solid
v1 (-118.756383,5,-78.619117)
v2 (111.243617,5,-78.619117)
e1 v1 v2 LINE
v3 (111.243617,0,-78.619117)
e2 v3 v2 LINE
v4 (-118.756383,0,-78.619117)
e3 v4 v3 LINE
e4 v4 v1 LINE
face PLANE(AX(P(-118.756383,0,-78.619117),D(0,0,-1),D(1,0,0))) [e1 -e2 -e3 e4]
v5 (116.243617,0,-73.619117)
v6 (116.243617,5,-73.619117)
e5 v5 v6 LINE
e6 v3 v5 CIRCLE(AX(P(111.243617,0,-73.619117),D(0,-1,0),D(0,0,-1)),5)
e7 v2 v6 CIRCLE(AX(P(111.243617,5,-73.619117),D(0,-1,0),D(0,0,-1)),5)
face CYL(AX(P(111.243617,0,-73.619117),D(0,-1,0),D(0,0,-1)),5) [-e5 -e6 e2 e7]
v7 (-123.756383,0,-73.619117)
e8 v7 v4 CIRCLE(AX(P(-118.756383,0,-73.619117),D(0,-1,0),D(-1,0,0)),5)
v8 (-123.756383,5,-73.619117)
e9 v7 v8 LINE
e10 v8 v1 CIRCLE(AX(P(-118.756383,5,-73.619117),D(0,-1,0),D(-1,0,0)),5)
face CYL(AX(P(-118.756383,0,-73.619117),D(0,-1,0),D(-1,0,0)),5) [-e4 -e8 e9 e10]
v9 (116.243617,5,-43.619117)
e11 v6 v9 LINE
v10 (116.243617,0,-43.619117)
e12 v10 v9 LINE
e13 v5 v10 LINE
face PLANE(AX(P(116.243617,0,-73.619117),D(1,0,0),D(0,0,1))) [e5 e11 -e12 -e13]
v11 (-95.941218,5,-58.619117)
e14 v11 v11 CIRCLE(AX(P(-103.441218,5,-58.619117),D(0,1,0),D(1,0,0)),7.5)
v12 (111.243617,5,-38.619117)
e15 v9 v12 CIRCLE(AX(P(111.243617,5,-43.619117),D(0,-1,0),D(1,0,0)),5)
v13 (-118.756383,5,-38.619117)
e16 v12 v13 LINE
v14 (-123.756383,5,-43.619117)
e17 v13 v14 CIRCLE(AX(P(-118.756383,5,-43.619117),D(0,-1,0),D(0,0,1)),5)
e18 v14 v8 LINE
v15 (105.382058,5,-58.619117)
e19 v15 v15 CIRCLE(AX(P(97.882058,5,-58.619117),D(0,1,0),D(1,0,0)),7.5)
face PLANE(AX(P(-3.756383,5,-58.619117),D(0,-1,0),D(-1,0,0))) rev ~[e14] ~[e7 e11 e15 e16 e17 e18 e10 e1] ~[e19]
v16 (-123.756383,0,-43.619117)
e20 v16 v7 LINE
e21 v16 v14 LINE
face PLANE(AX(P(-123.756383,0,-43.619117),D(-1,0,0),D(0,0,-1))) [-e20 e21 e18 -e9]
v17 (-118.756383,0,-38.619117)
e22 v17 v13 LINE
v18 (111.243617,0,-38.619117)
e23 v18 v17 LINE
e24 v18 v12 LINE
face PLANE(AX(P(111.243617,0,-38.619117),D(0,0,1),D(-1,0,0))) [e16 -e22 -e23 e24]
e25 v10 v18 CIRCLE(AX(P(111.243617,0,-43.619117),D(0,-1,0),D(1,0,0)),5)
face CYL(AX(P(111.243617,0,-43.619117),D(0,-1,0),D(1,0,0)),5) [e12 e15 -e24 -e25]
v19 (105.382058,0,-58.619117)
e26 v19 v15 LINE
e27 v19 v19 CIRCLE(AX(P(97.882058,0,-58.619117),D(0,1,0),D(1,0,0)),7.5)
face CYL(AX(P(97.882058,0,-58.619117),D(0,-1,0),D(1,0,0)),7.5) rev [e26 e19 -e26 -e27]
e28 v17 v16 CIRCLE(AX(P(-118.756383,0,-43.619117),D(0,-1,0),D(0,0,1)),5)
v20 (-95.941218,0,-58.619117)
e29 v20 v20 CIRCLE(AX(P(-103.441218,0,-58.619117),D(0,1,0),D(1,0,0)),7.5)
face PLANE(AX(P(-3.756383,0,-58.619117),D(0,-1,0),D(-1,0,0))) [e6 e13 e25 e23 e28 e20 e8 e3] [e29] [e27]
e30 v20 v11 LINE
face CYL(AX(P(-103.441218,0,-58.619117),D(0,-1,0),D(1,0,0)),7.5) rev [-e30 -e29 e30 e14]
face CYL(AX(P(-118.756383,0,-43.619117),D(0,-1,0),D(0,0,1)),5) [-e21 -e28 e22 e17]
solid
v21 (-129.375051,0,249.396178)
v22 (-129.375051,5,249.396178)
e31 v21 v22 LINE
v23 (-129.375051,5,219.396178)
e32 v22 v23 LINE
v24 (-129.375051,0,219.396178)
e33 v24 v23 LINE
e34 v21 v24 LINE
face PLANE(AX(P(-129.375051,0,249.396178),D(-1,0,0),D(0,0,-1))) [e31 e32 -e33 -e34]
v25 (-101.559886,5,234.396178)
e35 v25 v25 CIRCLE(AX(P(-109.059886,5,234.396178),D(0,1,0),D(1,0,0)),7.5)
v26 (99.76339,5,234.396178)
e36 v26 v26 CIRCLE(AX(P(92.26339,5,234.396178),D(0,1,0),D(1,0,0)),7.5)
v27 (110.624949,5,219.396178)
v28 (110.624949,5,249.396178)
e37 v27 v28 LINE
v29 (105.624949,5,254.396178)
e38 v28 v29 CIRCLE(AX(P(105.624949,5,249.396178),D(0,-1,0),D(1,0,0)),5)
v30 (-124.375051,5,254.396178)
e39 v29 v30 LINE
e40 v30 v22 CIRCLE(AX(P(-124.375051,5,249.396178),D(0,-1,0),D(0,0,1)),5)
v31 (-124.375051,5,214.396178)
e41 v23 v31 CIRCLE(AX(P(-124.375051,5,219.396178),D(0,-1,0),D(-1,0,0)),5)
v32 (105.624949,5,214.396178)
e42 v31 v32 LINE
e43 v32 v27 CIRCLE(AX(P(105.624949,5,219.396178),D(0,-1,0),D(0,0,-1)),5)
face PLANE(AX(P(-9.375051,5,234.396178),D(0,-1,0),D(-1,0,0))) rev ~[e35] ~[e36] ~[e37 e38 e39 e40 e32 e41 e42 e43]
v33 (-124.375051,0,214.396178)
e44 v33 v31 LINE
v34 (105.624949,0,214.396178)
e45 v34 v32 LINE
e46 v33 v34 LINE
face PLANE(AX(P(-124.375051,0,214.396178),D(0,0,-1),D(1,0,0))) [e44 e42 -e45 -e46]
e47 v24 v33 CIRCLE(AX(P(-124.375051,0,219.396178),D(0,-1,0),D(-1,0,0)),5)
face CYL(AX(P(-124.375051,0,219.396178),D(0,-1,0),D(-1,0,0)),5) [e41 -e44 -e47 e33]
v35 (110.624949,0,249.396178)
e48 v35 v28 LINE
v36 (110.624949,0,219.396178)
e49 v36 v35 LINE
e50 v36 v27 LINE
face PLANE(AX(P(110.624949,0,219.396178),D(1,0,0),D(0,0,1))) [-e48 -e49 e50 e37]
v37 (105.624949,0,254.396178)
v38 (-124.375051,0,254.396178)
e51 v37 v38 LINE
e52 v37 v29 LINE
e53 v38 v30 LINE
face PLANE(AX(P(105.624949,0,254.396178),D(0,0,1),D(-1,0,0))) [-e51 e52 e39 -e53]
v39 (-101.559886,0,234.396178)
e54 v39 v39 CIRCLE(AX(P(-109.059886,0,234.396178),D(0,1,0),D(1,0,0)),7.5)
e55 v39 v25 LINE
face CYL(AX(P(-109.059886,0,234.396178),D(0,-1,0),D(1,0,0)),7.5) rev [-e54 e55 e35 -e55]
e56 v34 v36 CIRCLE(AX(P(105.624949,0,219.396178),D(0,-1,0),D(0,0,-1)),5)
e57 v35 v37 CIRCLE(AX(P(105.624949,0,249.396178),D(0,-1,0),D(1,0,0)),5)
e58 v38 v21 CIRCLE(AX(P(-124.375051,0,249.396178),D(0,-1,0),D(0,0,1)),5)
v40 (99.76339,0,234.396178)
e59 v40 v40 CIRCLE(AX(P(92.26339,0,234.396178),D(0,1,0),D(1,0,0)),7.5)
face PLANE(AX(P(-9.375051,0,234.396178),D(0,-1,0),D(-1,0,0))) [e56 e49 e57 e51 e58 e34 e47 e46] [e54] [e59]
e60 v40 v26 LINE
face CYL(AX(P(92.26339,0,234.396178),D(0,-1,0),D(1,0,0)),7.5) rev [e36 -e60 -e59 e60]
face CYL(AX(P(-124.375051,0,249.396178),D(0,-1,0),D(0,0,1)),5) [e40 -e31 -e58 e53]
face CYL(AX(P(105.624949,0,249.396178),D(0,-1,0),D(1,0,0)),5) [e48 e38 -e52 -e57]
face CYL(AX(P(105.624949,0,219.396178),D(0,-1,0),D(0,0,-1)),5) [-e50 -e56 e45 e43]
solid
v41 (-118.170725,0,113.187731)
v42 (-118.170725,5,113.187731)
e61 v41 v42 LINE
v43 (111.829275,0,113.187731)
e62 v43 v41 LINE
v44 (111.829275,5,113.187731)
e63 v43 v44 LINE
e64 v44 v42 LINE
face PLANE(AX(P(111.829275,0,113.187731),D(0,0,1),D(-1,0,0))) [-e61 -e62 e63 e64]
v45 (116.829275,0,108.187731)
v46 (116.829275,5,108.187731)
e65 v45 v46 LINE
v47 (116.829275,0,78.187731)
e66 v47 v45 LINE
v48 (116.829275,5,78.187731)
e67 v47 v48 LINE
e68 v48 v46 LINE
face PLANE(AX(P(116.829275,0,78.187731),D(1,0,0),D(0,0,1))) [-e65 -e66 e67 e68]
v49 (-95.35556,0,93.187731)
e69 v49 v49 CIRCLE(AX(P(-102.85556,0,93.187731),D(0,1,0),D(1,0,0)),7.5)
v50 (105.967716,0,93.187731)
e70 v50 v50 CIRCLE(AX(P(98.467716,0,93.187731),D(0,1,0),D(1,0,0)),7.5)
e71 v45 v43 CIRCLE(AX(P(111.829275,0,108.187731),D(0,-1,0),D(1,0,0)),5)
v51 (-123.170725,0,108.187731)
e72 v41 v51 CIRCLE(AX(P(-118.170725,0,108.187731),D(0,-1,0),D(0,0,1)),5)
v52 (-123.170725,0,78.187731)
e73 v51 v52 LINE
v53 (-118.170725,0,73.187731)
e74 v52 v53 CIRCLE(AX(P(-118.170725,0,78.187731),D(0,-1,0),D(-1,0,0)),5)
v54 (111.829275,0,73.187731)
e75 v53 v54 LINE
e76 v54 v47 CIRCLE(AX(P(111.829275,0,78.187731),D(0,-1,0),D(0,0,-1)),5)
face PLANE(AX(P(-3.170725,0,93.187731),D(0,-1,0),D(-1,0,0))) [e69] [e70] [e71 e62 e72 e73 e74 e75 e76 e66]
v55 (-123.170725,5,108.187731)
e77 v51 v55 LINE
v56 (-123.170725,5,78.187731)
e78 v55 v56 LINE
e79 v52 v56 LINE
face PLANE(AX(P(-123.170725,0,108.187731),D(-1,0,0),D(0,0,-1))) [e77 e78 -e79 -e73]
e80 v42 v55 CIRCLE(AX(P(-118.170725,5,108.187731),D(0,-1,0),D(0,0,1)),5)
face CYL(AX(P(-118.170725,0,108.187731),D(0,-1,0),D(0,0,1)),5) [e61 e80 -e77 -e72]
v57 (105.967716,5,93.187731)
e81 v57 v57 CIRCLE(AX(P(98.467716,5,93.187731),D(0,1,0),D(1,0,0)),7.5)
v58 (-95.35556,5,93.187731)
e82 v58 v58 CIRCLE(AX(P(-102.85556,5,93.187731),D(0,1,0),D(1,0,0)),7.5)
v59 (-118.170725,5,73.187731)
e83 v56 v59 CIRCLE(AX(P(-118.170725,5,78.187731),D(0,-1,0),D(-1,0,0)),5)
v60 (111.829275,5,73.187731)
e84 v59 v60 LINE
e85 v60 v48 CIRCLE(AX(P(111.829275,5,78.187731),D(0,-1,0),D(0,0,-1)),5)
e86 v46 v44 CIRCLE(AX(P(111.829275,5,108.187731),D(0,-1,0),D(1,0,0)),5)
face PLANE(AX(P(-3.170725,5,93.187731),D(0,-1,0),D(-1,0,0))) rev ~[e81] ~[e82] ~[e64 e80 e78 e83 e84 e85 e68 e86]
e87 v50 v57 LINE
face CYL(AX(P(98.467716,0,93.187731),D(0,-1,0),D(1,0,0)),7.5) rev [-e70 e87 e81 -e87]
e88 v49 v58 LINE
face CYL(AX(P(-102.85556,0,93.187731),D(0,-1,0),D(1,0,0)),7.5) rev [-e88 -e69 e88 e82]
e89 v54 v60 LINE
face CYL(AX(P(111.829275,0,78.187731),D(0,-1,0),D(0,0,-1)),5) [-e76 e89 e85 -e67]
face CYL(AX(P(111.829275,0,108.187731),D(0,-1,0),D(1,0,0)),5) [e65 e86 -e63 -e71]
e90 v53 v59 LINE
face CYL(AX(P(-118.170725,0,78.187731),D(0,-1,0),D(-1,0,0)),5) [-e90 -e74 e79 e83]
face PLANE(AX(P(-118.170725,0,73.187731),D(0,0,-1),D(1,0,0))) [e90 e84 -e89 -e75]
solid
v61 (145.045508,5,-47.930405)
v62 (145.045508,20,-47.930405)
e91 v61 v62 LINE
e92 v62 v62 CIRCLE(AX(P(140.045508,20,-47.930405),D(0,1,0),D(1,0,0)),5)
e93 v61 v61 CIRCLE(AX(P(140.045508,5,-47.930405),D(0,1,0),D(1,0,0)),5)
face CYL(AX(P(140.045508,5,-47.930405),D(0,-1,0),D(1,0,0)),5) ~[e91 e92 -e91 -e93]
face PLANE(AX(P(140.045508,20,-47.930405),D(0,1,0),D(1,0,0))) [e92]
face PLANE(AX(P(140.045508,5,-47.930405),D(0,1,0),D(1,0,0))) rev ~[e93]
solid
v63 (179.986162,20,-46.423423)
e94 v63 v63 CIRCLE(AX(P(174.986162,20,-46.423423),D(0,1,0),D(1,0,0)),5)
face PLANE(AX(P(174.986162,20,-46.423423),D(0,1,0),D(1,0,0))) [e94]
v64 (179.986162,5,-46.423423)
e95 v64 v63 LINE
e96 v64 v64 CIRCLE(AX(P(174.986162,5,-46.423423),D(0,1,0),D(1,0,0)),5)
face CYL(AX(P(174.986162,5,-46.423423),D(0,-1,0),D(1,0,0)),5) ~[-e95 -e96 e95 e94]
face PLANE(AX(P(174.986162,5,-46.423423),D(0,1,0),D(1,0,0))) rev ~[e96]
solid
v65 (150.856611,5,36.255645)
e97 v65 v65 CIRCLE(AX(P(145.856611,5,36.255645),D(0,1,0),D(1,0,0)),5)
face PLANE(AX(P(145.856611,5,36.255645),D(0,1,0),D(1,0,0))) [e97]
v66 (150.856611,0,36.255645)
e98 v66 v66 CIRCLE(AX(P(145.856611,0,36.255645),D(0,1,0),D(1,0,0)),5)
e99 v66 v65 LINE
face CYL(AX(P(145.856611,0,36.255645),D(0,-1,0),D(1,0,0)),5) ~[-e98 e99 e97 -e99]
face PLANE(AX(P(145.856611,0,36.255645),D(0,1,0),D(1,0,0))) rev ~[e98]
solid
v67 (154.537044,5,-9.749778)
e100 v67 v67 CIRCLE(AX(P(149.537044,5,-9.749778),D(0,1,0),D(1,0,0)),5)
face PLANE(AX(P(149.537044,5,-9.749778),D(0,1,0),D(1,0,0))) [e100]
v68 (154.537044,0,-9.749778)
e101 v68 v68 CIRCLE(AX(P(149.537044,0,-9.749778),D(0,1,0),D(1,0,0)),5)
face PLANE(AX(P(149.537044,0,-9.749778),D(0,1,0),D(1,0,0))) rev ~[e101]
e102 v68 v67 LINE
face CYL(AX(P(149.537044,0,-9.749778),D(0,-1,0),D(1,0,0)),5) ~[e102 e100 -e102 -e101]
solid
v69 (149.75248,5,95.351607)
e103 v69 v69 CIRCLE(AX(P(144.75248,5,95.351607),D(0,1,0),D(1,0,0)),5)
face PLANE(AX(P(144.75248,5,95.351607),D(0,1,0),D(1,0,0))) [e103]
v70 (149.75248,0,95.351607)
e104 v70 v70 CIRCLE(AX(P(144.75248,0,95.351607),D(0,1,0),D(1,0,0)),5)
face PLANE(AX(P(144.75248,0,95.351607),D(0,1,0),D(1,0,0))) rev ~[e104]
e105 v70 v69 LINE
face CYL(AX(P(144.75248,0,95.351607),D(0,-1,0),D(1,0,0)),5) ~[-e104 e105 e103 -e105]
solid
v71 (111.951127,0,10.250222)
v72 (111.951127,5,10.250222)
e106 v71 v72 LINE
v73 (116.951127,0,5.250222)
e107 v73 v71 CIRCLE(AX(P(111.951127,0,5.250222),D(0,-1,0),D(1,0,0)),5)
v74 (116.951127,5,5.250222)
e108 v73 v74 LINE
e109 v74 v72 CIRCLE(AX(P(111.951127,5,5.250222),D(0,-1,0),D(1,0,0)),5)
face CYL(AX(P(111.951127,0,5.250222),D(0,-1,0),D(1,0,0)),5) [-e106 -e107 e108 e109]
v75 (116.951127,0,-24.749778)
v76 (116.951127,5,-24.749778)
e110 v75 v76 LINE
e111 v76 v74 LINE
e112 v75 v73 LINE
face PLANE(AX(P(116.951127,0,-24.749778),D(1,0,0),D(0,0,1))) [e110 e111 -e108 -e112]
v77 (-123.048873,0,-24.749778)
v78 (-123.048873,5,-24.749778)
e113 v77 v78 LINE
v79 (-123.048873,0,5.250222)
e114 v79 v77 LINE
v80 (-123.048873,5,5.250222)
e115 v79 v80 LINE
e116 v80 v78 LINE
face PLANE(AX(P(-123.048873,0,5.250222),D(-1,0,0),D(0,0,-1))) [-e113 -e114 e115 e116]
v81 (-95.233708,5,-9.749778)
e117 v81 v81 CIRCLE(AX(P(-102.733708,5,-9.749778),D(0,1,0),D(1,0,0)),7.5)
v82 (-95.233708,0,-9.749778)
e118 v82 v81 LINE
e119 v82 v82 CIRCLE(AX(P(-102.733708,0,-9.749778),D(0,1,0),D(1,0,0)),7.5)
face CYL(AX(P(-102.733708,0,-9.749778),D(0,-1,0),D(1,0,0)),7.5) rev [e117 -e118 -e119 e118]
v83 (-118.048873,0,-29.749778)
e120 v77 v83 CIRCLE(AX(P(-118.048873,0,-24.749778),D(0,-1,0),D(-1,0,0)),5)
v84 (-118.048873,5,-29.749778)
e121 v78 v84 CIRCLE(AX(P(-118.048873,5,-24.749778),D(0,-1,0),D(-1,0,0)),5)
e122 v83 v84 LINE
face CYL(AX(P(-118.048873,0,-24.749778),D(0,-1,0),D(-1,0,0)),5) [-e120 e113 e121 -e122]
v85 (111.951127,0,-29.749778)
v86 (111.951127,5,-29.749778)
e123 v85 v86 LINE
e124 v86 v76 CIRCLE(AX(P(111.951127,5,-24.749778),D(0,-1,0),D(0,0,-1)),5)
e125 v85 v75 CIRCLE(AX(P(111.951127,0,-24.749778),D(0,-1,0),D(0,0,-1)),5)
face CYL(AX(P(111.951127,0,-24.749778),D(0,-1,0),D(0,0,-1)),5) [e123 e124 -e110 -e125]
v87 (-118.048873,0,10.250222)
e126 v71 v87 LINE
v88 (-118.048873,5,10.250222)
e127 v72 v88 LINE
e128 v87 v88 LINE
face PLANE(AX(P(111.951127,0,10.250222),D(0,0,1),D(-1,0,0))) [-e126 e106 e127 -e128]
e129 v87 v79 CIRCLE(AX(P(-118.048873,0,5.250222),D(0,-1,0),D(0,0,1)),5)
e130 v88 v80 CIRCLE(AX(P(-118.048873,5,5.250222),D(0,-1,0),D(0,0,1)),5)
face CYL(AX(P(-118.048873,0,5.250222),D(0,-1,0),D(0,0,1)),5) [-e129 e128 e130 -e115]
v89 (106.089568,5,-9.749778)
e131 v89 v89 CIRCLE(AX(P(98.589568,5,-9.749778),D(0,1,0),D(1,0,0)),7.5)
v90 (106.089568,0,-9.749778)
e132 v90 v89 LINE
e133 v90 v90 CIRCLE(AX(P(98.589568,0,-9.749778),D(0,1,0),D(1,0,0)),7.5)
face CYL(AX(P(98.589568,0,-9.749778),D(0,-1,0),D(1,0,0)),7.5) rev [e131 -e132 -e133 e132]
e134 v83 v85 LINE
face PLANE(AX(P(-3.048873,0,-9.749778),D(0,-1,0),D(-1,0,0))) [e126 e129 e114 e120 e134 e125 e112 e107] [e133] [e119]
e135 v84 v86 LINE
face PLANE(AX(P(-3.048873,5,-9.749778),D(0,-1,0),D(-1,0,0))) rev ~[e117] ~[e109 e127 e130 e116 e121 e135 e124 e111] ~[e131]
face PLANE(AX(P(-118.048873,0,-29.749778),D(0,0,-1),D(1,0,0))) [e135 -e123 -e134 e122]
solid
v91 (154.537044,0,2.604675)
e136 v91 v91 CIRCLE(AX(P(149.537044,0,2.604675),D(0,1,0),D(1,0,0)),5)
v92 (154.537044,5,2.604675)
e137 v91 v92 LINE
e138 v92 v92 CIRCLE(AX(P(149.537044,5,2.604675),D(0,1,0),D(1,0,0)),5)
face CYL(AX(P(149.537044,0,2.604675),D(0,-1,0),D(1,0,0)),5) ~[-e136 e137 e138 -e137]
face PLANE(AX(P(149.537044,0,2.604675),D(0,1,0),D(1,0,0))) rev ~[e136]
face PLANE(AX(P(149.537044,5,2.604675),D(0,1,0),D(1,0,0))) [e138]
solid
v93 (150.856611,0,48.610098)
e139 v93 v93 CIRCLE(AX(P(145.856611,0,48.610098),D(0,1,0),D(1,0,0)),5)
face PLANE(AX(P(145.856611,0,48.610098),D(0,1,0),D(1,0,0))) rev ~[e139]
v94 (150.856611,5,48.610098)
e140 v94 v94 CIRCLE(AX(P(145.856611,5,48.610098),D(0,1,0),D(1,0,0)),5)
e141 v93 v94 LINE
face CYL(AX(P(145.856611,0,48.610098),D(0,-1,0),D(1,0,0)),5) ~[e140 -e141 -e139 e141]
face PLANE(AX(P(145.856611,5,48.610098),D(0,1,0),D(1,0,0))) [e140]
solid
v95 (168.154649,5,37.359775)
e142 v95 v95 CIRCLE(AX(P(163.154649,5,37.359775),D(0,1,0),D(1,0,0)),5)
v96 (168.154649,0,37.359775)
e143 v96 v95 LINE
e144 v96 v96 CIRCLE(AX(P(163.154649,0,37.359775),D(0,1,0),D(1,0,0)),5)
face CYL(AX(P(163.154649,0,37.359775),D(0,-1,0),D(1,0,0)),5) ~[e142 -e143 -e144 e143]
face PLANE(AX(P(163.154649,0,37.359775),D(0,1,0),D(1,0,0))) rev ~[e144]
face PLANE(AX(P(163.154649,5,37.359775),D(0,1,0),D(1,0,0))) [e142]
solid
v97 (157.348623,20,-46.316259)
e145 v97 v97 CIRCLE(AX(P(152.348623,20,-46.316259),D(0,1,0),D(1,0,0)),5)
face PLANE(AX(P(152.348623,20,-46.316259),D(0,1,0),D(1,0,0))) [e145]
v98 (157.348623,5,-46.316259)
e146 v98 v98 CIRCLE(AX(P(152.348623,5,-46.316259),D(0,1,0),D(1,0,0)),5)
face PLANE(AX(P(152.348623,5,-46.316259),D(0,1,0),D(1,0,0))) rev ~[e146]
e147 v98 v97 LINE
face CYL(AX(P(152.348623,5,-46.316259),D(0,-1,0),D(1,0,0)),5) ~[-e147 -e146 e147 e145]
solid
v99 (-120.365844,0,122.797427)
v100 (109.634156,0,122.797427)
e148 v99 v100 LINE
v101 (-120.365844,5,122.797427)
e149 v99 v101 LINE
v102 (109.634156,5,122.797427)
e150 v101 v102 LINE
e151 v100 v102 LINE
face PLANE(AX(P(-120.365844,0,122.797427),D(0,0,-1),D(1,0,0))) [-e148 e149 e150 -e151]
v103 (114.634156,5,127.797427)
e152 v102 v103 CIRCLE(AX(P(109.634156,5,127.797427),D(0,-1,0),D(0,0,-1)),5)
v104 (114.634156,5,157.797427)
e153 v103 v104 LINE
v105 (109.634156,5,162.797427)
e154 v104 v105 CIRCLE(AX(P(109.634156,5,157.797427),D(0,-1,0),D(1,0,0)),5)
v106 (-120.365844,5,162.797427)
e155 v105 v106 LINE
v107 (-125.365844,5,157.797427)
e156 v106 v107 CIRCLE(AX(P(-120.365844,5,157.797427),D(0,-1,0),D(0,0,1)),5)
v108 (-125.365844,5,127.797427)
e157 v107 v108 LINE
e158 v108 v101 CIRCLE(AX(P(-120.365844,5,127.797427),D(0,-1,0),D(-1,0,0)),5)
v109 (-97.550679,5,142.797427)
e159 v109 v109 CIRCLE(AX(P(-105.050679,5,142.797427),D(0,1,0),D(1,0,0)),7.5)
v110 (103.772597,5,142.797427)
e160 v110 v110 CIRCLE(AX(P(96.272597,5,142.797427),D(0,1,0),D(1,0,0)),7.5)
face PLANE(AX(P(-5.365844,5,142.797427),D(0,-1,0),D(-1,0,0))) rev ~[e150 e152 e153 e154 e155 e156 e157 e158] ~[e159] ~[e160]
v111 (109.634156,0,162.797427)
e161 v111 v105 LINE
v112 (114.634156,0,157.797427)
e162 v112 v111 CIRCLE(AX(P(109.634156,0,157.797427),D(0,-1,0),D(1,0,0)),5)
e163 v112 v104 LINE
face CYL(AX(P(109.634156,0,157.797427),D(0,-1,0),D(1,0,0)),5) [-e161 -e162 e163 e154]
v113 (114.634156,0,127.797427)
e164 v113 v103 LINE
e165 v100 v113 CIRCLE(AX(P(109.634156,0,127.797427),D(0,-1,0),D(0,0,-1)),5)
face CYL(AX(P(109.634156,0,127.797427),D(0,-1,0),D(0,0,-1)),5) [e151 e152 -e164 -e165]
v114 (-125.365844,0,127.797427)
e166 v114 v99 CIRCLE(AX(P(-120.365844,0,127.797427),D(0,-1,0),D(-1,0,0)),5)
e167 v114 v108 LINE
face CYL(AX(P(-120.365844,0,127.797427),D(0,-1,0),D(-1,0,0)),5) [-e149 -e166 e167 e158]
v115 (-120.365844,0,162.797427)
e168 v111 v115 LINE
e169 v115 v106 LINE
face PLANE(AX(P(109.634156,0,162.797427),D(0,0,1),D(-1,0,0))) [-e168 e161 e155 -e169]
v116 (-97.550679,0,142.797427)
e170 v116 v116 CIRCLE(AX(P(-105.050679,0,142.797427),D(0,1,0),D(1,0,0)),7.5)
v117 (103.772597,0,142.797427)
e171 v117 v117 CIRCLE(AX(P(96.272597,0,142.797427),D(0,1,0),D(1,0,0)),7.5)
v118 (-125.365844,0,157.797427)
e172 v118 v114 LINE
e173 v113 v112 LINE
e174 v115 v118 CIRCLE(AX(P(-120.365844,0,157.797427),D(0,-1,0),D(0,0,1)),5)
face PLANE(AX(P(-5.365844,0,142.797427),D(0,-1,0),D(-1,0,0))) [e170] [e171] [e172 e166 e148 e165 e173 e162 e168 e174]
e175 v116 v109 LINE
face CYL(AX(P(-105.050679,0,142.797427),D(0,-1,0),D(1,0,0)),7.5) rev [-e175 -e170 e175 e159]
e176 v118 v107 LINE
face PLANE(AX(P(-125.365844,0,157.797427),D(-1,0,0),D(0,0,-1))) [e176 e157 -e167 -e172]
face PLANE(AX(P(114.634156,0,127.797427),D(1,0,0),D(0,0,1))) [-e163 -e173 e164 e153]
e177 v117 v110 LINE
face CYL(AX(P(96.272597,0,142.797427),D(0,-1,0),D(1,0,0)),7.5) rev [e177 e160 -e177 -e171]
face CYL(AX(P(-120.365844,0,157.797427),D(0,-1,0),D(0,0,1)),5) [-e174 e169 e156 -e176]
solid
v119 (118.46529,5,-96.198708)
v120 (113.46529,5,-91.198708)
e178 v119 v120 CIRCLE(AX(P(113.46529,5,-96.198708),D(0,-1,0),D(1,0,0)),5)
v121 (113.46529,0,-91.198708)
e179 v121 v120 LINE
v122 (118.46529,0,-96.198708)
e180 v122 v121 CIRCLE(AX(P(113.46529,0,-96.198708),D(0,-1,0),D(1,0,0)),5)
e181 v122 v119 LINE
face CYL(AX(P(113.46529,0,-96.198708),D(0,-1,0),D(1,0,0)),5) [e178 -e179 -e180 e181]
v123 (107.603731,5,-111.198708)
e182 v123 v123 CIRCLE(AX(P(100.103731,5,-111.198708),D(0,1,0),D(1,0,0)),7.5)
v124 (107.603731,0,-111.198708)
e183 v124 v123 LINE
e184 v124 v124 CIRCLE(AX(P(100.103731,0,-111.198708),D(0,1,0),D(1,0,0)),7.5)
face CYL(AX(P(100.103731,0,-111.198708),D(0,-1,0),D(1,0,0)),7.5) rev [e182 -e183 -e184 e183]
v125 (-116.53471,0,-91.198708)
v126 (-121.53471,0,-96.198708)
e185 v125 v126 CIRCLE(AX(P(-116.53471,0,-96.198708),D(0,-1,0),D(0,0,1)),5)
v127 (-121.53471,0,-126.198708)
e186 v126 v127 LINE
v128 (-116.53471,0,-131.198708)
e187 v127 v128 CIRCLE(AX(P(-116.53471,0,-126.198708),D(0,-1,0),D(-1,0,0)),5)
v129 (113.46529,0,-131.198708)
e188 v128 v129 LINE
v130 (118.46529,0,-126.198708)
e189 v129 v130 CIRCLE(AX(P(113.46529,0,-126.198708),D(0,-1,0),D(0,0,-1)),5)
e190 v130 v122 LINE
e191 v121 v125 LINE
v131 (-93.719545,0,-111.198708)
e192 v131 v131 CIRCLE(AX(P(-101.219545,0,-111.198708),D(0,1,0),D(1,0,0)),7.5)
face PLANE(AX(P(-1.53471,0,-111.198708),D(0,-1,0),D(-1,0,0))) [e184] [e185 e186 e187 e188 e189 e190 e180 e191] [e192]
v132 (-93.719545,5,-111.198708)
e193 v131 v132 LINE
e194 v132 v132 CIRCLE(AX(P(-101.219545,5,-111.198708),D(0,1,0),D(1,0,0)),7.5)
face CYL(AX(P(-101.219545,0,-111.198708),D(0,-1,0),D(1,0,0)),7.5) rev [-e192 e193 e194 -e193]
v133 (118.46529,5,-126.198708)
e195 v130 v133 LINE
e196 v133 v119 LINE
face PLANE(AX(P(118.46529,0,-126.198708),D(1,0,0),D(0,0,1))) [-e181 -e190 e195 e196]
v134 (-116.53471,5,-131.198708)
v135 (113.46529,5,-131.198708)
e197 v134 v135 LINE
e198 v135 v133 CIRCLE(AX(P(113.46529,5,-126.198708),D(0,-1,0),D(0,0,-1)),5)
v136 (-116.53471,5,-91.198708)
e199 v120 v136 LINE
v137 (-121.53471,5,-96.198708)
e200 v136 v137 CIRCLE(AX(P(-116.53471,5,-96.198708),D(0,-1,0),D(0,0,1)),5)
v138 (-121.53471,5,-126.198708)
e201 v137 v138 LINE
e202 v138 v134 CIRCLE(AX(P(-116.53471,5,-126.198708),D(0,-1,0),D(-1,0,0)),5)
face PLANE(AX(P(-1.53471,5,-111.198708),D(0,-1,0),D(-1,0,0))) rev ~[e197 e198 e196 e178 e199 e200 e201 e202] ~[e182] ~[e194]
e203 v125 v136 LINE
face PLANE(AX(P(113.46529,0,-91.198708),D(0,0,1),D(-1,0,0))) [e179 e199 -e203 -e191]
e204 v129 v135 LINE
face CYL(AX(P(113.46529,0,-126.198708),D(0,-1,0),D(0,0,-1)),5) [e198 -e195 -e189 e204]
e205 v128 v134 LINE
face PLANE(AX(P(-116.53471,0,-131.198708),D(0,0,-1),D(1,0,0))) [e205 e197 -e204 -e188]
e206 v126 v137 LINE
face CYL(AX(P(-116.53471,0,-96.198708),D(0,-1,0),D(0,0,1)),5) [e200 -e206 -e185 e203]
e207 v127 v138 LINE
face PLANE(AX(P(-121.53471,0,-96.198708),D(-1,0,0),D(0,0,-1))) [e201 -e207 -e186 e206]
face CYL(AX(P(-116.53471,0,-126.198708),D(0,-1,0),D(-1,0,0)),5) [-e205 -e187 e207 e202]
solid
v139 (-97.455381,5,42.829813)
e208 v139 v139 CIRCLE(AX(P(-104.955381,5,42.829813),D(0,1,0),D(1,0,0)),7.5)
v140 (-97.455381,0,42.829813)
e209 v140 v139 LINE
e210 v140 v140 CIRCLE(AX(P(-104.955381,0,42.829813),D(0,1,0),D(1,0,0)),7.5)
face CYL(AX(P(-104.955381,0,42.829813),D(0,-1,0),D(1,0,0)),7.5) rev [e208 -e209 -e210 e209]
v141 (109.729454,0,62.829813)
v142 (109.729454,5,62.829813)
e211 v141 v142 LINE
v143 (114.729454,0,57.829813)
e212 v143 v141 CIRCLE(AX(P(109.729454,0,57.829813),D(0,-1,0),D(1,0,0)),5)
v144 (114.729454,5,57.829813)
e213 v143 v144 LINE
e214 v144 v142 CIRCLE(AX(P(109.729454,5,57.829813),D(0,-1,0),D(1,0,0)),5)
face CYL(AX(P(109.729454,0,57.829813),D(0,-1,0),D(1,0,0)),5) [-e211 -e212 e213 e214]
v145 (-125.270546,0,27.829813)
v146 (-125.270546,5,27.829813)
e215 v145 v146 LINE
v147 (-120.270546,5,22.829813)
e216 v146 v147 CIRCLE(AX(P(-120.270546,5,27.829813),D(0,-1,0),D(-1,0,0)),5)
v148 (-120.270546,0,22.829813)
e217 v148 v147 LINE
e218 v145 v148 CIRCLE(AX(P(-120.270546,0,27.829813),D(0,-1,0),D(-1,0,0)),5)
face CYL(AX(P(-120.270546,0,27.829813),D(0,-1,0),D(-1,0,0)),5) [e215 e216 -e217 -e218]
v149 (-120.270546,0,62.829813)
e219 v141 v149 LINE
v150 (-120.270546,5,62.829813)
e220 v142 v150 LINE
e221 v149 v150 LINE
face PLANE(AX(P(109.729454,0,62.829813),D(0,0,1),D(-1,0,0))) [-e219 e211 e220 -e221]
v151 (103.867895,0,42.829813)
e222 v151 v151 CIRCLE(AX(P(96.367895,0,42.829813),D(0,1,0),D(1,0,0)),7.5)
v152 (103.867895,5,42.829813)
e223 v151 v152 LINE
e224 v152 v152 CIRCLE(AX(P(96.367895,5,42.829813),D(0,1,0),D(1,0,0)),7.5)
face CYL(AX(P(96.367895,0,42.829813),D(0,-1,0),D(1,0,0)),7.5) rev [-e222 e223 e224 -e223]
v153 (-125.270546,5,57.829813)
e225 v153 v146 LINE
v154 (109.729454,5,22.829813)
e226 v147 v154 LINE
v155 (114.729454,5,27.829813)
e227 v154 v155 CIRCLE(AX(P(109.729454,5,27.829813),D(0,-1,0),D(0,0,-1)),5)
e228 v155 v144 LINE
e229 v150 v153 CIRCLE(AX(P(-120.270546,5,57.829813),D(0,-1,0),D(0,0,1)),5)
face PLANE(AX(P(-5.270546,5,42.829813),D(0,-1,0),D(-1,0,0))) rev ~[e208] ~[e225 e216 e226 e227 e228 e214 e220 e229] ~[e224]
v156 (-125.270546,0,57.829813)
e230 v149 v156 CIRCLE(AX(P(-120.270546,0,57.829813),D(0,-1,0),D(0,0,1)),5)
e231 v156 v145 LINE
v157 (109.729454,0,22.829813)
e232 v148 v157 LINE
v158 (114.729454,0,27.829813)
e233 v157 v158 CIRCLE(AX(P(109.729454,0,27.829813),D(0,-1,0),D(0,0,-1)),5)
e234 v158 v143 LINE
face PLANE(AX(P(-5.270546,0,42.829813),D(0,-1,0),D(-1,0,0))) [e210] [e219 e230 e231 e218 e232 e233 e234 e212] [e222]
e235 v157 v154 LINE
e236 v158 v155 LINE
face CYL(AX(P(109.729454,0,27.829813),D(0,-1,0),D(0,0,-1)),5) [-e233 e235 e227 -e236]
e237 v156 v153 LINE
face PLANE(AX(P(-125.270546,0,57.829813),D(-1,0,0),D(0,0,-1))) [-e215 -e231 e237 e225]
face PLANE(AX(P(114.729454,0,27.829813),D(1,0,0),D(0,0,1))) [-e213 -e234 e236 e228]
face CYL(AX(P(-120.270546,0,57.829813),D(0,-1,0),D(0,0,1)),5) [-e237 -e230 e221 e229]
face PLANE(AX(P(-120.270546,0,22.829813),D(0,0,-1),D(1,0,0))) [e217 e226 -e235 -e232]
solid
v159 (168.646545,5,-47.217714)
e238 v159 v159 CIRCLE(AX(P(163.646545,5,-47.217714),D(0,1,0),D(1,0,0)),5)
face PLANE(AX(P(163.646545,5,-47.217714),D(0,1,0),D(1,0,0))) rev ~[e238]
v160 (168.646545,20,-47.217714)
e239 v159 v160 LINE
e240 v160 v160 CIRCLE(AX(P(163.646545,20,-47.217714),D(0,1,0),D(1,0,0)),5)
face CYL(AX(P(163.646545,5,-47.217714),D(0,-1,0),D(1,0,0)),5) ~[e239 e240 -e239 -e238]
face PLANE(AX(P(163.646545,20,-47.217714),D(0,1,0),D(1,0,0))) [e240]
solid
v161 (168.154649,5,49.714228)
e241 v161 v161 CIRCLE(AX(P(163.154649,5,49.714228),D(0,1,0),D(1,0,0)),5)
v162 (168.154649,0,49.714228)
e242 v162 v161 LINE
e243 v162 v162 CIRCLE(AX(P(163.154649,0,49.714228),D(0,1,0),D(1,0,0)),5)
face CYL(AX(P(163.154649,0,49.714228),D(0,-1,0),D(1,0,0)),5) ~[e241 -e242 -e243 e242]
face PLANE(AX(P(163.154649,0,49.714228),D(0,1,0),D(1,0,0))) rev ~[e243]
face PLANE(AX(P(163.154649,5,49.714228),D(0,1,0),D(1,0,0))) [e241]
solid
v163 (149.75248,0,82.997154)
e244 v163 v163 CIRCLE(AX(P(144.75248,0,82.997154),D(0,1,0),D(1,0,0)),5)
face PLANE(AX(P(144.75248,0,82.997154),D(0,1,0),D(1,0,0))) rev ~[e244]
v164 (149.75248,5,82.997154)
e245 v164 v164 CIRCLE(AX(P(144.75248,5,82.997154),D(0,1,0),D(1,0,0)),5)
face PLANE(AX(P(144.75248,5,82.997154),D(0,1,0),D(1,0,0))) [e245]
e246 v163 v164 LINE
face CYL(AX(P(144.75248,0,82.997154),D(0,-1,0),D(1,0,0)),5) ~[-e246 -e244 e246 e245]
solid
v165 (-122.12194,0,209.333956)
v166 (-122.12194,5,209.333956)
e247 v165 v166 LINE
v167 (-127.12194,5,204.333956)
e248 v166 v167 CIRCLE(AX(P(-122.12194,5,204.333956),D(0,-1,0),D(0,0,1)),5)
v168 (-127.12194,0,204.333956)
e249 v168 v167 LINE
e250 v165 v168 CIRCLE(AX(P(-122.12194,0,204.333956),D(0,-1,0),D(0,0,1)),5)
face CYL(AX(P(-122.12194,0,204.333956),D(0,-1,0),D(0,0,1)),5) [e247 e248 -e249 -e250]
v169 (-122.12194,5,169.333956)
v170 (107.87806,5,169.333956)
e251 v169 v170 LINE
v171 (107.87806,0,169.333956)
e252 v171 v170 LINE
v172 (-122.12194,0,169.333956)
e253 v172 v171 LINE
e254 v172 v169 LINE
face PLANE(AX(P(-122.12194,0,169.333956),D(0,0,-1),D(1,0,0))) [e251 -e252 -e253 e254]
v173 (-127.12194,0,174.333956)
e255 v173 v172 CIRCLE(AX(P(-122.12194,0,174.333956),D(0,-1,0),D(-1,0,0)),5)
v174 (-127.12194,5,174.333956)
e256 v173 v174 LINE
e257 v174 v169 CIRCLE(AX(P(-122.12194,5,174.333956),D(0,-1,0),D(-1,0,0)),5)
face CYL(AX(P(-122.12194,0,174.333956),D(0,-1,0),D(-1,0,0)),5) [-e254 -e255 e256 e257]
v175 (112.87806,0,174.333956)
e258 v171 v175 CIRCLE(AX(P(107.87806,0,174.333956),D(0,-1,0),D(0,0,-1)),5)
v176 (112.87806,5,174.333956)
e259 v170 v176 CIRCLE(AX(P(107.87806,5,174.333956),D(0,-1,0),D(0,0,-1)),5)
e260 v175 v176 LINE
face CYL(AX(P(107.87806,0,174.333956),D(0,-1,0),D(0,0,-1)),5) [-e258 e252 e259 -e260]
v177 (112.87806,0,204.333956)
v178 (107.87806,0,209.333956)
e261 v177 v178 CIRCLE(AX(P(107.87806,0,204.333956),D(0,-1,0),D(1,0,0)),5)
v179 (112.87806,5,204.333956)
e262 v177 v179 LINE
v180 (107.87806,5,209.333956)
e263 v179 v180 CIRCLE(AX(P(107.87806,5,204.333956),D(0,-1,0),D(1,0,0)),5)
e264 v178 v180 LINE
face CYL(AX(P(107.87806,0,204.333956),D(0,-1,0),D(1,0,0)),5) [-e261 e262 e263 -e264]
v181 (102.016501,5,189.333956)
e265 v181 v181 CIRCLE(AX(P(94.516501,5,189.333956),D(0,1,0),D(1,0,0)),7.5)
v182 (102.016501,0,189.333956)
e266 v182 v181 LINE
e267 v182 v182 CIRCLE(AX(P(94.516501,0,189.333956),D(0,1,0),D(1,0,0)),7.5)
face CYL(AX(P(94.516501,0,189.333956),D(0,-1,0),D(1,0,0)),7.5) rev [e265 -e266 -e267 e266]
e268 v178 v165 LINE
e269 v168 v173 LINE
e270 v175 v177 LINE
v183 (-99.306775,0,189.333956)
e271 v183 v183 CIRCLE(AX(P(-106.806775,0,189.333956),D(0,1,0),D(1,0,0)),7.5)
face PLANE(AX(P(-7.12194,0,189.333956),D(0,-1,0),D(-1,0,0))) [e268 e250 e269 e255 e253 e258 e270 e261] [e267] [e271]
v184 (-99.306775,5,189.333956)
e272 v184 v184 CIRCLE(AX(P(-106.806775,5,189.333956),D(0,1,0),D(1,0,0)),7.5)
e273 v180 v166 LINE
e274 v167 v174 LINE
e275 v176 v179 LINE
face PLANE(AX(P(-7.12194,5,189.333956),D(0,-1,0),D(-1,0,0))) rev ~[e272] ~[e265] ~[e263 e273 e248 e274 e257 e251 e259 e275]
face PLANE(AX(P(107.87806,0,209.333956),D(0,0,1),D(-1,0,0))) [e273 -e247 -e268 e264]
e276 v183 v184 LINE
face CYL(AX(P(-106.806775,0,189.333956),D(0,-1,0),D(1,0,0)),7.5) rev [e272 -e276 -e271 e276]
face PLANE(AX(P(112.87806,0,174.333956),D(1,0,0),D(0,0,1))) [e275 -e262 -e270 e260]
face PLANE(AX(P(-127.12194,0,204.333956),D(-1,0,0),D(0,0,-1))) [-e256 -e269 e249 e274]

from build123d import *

# Parameters (mm, degrees)
SKETCH3_R              = 5
BOSS_EXTRUDE2_DEPTH    = 5
BOSS_EXTRUDE2_2_DEPTH  = 5
BOSS_EXTRUDE2_3_DEPTH  = 5
BOSS_EXTRUDE2_4_DEPTH  = 5
BOSS_EXTRUDE2_5_DEPTH  = 5
BOSS_EXTRUDE2_6_DEPTH  = 5
BOSS_EXTRUDE2_7_DEPTH  = 5
BOSS_EXTRUDE2_8_DEPTH  = 5
SKETCH3_R_2            = 7.5
BOSS_EXTRUDE2_9_DEPTH  = 5
BOSS_EXTRUDE2_10_DEPTH = 5
BOSS_EXTRUDE2_11_DEPTH = 5
BOSS_EXTRUDE2_12_DEPTH = 5
BOSS_EXTRUDE2_13_DEPTH = 5
BOSS_EXTRUDE2_14_DEPTH = 5
BOSS_EXTRUDE2_15_DEPTH = 5
BOSS_EXTRUDE2_16_DEPTH = 5
SKETCH9_R              = 5
BOSS_EXTRUDE3_DEPTH    = 15
BOSS_EXTRUDE3_2_DEPTH  = 15
BOSS_EXTRUDE3_3_DEPTH  = 15
BOSS_EXTRUDE3_4_DEPTH  = 15


with BuildPart() as part:
    # Sketch3 → Boss-Extrude2 (new body)
    with BuildSketch(Plane(origin=(0, 0, 0), x_dir=(1, 0, 0), z_dir=(0, 1, 0))):
        with Locations((149.537044307, 9.749777699)):
            Circle(SKETCH3_R)
    extrude(amount=BOSS_EXTRUDE2_DEPTH)


with BuildPart() as body_2:
    # Sketch3 → Boss-Extrude2 2 (new body)
    with BuildSketch(Plane(origin=(0, 0, 0), x_dir=(1, 0, 0), z_dir=(0, 1, 0))):
        with Locations((149.537044307, -2.604675007)):
            Circle(SKETCH3_R)
    extrude(amount=BOSS_EXTRUDE2_2_DEPTH)


with BuildPart() as body_3:
    # Sketch3 → Boss-Extrude2 3 (new body)
    with BuildSketch(Plane(origin=(0, 0, 0), x_dir=(1, 0, 0), z_dir=(0, 1, 0))):
        with Locations((145.856610502, -36.255644862)):
            Circle(SKETCH3_R)
    extrude(amount=BOSS_EXTRUDE2_3_DEPTH)


with BuildPart() as body_4:
    # Sketch3 → Boss-Extrude2 4 (new body)
    with BuildSketch(Plane(origin=(0, 0, 0), x_dir=(1, 0, 0), z_dir=(0, 1, 0))):
        with Locations((145.856610502, -48.610097567)):
            Circle(SKETCH3_R)
    extrude(amount=BOSS_EXTRUDE2_4_DEPTH)


with BuildPart() as body_5:
    # Sketch3 → Boss-Extrude2 5 (new body)
    with BuildSketch(Plane(origin=(0, 0, 0), x_dir=(1, 0, 0), z_dir=(0, 1, 0))):
        with Locations((144.75248036, -82.997154184)):
            Circle(SKETCH3_R)
    extrude(amount=BOSS_EXTRUDE2_5_DEPTH)


with BuildPart() as body_6:
    # Sketch3 → Boss-Extrude2 6 (new body)
    with BuildSketch(Plane(origin=(0, 0, 0), x_dir=(1, 0, 0), z_dir=(0, 1, 0))):
        with Locations((144.75248036, -95.351606889)):
            Circle(SKETCH3_R)
    extrude(amount=BOSS_EXTRUDE2_6_DEPTH)


with BuildPart() as body_7:
    # Sketch3 → Boss-Extrude2 7 (new body)
    with BuildSketch(Plane(origin=(0, 0, 0), x_dir=(1, 0, 0), z_dir=(0, 1, 0))):
        with Locations((163.154649385, -37.359775004)):
            Circle(SKETCH3_R)
    extrude(amount=BOSS_EXTRUDE2_7_DEPTH)


with BuildPart() as body_8:
    # Sketch3 → Boss-Extrude2 8 (new body)
    with BuildSketch(Plane(origin=(0, 0, 0), x_dir=(1, 0, 0), z_dir=(0, 1, 0))):
        with Locations((163.154649385, -49.714227709)):
            Circle(SKETCH3_R)
    extrude(amount=BOSS_EXTRUDE2_8_DEPTH)


with BuildPart() as body_9:
    # Sketch3 → Boss-Extrude2 9 (new body)
    with BuildSketch(Plane(origin=(0, 0, 0), x_dir=(1, 0, 0), z_dir=(0, 1, 0))):
        with BuildLine():
            Line((-120.270545649, -22.829813293), (109.729454351, -22.829813293))
            ThreePointArc((109.729454351, -22.829813293), (113.264988257, -24.294279387), (114.729454351, -27.829813293))
            Line((114.729454351, -27.829813293), (114.729454351, -57.829813293))
            ThreePointArc((114.729454351, -57.829813293), (113.264988257, -61.365347199), (109.729454351, -62.829813293))
            Line((109.729454351, -62.829813293), (-120.270545649, -62.829813293))
            ThreePointArc((-120.270545649, -62.829813293), (-123.806079555, -61.365347199), (-125.270545649, -57.829813293))
            Line((-125.270545649, -57.829813293), (-125.270545649, -27.829813293))
            ThreePointArc((-125.270545649, -27.829813293), (-123.806079555, -24.294279387), (-120.270545649, -22.829813293))
        make_face()
        with Locations((-104.955380734, -42.829813293)):
            Circle(SKETCH3_R_2, mode=Mode.SUBTRACT)
        with Locations((96.367895313, -42.829813293)):
            Circle(SKETCH3_R_2, mode=Mode.SUBTRACT)
    extrude(amount=BOSS_EXTRUDE2_9_DEPTH)


with BuildPart() as body_10:
    # Sketch3 → Boss-Extrude2 10 (new body)
    with BuildSketch(Plane(origin=(0, 0, 0), x_dir=(1, 0, 0), z_dir=(0, 1, 0))):
        with BuildLine():
            Line((-118.048872791, 29.749777699), (111.951127209, 29.749777699))
            ThreePointArc((111.951127209, 29.749777699), (115.486661115, 28.285311605), (116.951127209, 24.749777699))
            Line((116.951127209, 24.749777699), (116.951127209, -5.250222301))
            ThreePointArc((116.951127209, -5.250222301), (115.486661115, -8.785756207), (111.951127209, -10.250222301))
            Line((111.951127209, -10.250222301), (-118.048872791, -10.250222301))
            ThreePointArc((-118.048872791, -10.250222301), (-121.584406697, -8.785756207), (-123.048872791, -5.250222301))
            Line((-123.048872791, -5.250222301), (-123.048872791, 24.749777699))
            ThreePointArc((-123.048872791, 24.749777699), (-121.584406697, 28.285311605), (-118.048872791, 29.749777699))
        make_face()
        with Locations((-102.733707875, 9.749777699)):
            Circle(SKETCH3_R_2, mode=Mode.SUBTRACT)
        with Locations((98.589568172, 9.749777699)):
            Circle(SKETCH3_R_2, mode=Mode.SUBTRACT)
    extrude(amount=BOSS_EXTRUDE2_10_DEPTH)


with BuildPart() as body_11:
    # Sketch3 → Boss-Extrude2 11 (new body)
    with BuildSketch(Plane(origin=(0, 0, 0), x_dir=(1, 0, 0), z_dir=(0, 1, 0))):
        with BuildLine():
            Line((-120.365844272, -122.797427213), (109.634155728, -122.797427213))
            ThreePointArc((109.634155728, -122.797427213), (113.169689634, -124.261893307), (114.634155728, -127.797427213))
            Line((114.634155728, -127.797427213), (114.634155728, -157.797427213))
            ThreePointArc((114.634155728, -157.797427213), (113.169689634, -161.332961119), (109.634155728, -162.797427213))
            Line((109.634155728, -162.797427213), (-120.365844272, -162.797427213))
            ThreePointArc((-120.365844272, -162.797427213), (-123.901378178, -161.332961119), (-125.365844272, -157.797427213))
            Line((-125.365844272, -157.797427213), (-125.365844272, -127.797427213))
            ThreePointArc((-125.365844272, -127.797427213), (-123.901378178, -124.261893307), (-120.365844272, -122.797427213))
        make_face()
        with Locations((-105.050679357, -142.797427213)):
            Circle(SKETCH3_R_2, mode=Mode.SUBTRACT)
        with Locations((96.27259669, -142.797427213)):
            Circle(SKETCH3_R_2, mode=Mode.SUBTRACT)
    extrude(amount=BOSS_EXTRUDE2_11_DEPTH)


with BuildPart() as body_12:
    # Sketch3 → Boss-Extrude2 12 (new body)
    with BuildSketch(Plane(origin=(0, 0, 0), x_dir=(1, 0, 0), z_dir=(0, 1, 0))):
        with BuildLine():
            Line((-118.17072499, -73.187731426), (111.82927501, -73.187731426))
            ThreePointArc((111.82927501, -73.187731426), (115.364808916, -74.65219752), (116.82927501, -78.187731426))
            Line((116.82927501, -78.187731426), (116.82927501, -108.187731426))
            ThreePointArc((116.82927501, -108.187731426), (115.364808916, -111.723265332), (111.82927501, -113.187731426))
            Line((111.82927501, -113.187731426), (-118.17072499, -113.187731426))
            ThreePointArc((-118.17072499, -113.187731426), (-121.706258896, -111.723265332), (-123.17072499, -108.187731426))
            Line((-123.17072499, -108.187731426), (-123.17072499, -78.187731426))
            ThreePointArc((-123.17072499, -78.187731426), (-121.706258896, -74.65219752), (-118.17072499, -73.187731426))
        make_face()
        with Locations((-102.855560074, -93.187731426)):
            Circle(SKETCH3_R_2, mode=Mode.SUBTRACT)
        with Locations((98.467715973, -93.187731426)):
            Circle(SKETCH3_R_2, mode=Mode.SUBTRACT)
    extrude(amount=BOSS_EXTRUDE2_12_DEPTH)


with BuildPart() as body_13:
    # Sketch3 → Boss-Extrude2 13 (new body)
    with BuildSketch(Plane(origin=(0, 0, 0), x_dir=(1, 0, 0), z_dir=(0, 1, 0))):
        with BuildLine():
            Line((-122.121939698, -169.333956004), (107.878060302, -169.333956004))
            ThreePointArc((107.878060302, -169.333956004), (111.413594208, -170.798422098), (112.878060302, -174.333956004))
            Line((112.878060302, -174.333956004), (112.878060302, -204.333956004))
            ThreePointArc((112.878060302, -204.333956004), (111.413594208, -207.86948991), (107.878060302, -209.333956004))
            Line((107.878060302, -209.333956004), (-122.121939698, -209.333956004))
            ThreePointArc((-122.121939698, -209.333956004), (-125.657473604, -207.86948991), (-127.121939698, -204.333956004))
            Line((-127.121939698, -204.333956004), (-127.121939698, -174.333956004))
            ThreePointArc((-127.121939698, -174.333956004), (-125.657473604, -170.798422098), (-122.121939698, -169.333956004))
        make_face()
        with Locations((-106.806774783, -189.333956004)):
            Circle(SKETCH3_R_2, mode=Mode.SUBTRACT)
        with Locations((94.516501264, -189.333956004)):
            Circle(SKETCH3_R_2, mode=Mode.SUBTRACT)
    extrude(amount=BOSS_EXTRUDE2_13_DEPTH)


with BuildPart() as body_14:
    # Sketch3 → Boss-Extrude2 14 (new body)
    with BuildSketch(Plane(origin=(0, 0, 0), x_dir=(1, 0, 0), z_dir=(0, 1, 0))):
        with BuildLine():
            Line((-118.756382516, 78.619116624), (111.243617484, 78.619116624))
            ThreePointArc((111.243617484, 78.619116624), (114.77915139, 77.15465053), (116.243617484, 73.619116624))
            Line((116.243617484, 73.619116624), (116.243617484, 43.619116624))
            ThreePointArc((116.243617484, 43.619116624), (114.77915139, 40.083582718), (111.243617484, 38.619116624))
            Line((111.243617484, 38.619116624), (-118.756382516, 38.619116624))
            ThreePointArc((-118.756382516, 38.619116624), (-122.291916422, 40.083582718), (-123.756382516, 43.619116624))
            Line((-123.756382516, 43.619116624), (-123.756382516, 73.619116624))
            ThreePointArc((-123.756382516, 73.619116624), (-122.291916422, 77.15465053), (-118.756382516, 78.619116624))
        make_face()
        with Locations((-103.441217601, 58.619116624)):
            Circle(SKETCH3_R_2, mode=Mode.SUBTRACT)
        with Locations((97.882058446, 58.619116624)):
            Circle(SKETCH3_R_2, mode=Mode.SUBTRACT)
    extrude(amount=BOSS_EXTRUDE2_14_DEPTH)


with BuildPart() as body_15:
    # Sketch3 → Boss-Extrude2 15 (new body)
    with BuildSketch(Plane(origin=(0, 0, 0), x_dir=(1, 0, 0), z_dir=(0, 1, 0))):
        with BuildLine():
            Line((-116.534709657, 131.198707616), (113.465290343, 131.198707616))
            ThreePointArc((113.465290343, 131.198707616), (117.000824248, 129.734241522), (118.465290343, 126.198707616))
            Line((118.465290343, 126.198707616), (118.465290343, 96.198707616))
            ThreePointArc((118.465290343, 96.198707616), (117.000824248, 92.66317371), (113.465290343, 91.198707616))
            Line((113.465290343, 91.198707616), (-116.534709657, 91.198707616))
            ThreePointArc((-116.534709657, 91.198707616), (-120.070243563, 92.66317371), (-121.534709657, 96.198707616))
            Line((-121.534709657, 96.198707616), (-121.534709657, 126.198707616))
            ThreePointArc((-121.534709657, 126.198707616), (-120.070243563, 129.734241522), (-116.534709657, 131.198707616))
        make_face()
        with Locations((-101.219544742, 111.198707616)):
            Circle(SKETCH3_R_2, mode=Mode.SUBTRACT)
        with Locations((100.103731305, 111.198707616)):
            Circle(SKETCH3_R_2, mode=Mode.SUBTRACT)
    extrude(amount=BOSS_EXTRUDE2_15_DEPTH)


with BuildPart() as body_16:
    # Sketch3 → Boss-Extrude2 16 (new body)
    with BuildSketch(Plane(origin=(0, 0, 0), x_dir=(1, 0, 0), z_dir=(0, 1, 0))):
        with BuildLine():
            Line((-124.37505078, -214.396177643), (105.62494922, -214.396177643))
            ThreePointArc((105.62494922, -214.396177643), (109.160483126, -215.860643737), (110.62494922, -219.396177643))
            Line((110.62494922, -219.396177643), (110.62494922, -249.396177643))
            ThreePointArc((110.62494922, -249.396177643), (109.160483126, -252.931711549), (105.62494922, -254.396177643))
            Line((105.62494922, -254.396177643), (-124.37505078, -254.396177643))
            ThreePointArc((-124.37505078, -254.396177643), (-127.910584686, -252.931711549), (-129.37505078, -249.396177643))
            Line((-129.37505078, -249.396177643), (-129.37505078, -219.396177643))
            ThreePointArc((-129.37505078, -219.396177643), (-127.910584686, -215.860643737), (-124.37505078, -214.396177643))
        make_face()
        with Locations((-109.059885865, -234.396177643)):
            Circle(SKETCH3_R_2, mode=Mode.SUBTRACT)
        with Locations((92.263390182, -234.396177643)):
            Circle(SKETCH3_R_2, mode=Mode.SUBTRACT)
    extrude(amount=BOSS_EXTRUDE2_16_DEPTH)


with BuildPart() as body_17:
    # Sketch9 → Boss-Extrude3 (new body)
    with BuildSketch(Plane(origin=(0, 5, 0), x_dir=(1, 0, 0), z_dir=(0, 1, 0))):
        with Locations((140.045507905, 47.930405311)):
            Circle(SKETCH9_R)
    extrude(amount=BOSS_EXTRUDE3_DEPTH)


with BuildPart() as body_18:
    # Sketch9 → Boss-Extrude3 2 (new body)
    with BuildSketch(Plane(origin=(0, 5, 0), x_dir=(1, 0, 0), z_dir=(0, 1, 0))):
        with Locations((152.348623344, 46.31625897)):
            Circle(SKETCH9_R)
    extrude(amount=BOSS_EXTRUDE3_2_DEPTH)


with BuildPart() as body_19:
    # Sketch9 → Boss-Extrude3 3 (new body)
    with BuildSketch(Plane(origin=(0, 5, 0), x_dir=(1, 0, 0), z_dir=(0, 1, 0))):
        with Locations((163.646545465, 47.217713617)):
            Circle(SKETCH9_R)
    extrude(amount=BOSS_EXTRUDE3_3_DEPTH)


with BuildPart() as body_20:
    # Sketch9 → Boss-Extrude3 4 (new body)
    with BuildSketch(Plane(origin=(0, 5, 0), x_dir=(1, 0, 0), z_dir=(0, 1, 0))):
        with Locations((174.986162006, 46.423422818)):
            Circle(SKETCH9_R)
    extrude(amount=BOSS_EXTRUDE3_4_DEPTH)


solid = Compound([part.part, body_2.part, body_3.part, body_4.part, body_5.part, body_6.part, body_7.part, body_8.part, body_9.part, body_10.part, body_11.part, body_12.part, body_13.part, body_14.part, body_15.part, body_16.part, body_17.part, body_18.part, body_19.part, body_20.part])
